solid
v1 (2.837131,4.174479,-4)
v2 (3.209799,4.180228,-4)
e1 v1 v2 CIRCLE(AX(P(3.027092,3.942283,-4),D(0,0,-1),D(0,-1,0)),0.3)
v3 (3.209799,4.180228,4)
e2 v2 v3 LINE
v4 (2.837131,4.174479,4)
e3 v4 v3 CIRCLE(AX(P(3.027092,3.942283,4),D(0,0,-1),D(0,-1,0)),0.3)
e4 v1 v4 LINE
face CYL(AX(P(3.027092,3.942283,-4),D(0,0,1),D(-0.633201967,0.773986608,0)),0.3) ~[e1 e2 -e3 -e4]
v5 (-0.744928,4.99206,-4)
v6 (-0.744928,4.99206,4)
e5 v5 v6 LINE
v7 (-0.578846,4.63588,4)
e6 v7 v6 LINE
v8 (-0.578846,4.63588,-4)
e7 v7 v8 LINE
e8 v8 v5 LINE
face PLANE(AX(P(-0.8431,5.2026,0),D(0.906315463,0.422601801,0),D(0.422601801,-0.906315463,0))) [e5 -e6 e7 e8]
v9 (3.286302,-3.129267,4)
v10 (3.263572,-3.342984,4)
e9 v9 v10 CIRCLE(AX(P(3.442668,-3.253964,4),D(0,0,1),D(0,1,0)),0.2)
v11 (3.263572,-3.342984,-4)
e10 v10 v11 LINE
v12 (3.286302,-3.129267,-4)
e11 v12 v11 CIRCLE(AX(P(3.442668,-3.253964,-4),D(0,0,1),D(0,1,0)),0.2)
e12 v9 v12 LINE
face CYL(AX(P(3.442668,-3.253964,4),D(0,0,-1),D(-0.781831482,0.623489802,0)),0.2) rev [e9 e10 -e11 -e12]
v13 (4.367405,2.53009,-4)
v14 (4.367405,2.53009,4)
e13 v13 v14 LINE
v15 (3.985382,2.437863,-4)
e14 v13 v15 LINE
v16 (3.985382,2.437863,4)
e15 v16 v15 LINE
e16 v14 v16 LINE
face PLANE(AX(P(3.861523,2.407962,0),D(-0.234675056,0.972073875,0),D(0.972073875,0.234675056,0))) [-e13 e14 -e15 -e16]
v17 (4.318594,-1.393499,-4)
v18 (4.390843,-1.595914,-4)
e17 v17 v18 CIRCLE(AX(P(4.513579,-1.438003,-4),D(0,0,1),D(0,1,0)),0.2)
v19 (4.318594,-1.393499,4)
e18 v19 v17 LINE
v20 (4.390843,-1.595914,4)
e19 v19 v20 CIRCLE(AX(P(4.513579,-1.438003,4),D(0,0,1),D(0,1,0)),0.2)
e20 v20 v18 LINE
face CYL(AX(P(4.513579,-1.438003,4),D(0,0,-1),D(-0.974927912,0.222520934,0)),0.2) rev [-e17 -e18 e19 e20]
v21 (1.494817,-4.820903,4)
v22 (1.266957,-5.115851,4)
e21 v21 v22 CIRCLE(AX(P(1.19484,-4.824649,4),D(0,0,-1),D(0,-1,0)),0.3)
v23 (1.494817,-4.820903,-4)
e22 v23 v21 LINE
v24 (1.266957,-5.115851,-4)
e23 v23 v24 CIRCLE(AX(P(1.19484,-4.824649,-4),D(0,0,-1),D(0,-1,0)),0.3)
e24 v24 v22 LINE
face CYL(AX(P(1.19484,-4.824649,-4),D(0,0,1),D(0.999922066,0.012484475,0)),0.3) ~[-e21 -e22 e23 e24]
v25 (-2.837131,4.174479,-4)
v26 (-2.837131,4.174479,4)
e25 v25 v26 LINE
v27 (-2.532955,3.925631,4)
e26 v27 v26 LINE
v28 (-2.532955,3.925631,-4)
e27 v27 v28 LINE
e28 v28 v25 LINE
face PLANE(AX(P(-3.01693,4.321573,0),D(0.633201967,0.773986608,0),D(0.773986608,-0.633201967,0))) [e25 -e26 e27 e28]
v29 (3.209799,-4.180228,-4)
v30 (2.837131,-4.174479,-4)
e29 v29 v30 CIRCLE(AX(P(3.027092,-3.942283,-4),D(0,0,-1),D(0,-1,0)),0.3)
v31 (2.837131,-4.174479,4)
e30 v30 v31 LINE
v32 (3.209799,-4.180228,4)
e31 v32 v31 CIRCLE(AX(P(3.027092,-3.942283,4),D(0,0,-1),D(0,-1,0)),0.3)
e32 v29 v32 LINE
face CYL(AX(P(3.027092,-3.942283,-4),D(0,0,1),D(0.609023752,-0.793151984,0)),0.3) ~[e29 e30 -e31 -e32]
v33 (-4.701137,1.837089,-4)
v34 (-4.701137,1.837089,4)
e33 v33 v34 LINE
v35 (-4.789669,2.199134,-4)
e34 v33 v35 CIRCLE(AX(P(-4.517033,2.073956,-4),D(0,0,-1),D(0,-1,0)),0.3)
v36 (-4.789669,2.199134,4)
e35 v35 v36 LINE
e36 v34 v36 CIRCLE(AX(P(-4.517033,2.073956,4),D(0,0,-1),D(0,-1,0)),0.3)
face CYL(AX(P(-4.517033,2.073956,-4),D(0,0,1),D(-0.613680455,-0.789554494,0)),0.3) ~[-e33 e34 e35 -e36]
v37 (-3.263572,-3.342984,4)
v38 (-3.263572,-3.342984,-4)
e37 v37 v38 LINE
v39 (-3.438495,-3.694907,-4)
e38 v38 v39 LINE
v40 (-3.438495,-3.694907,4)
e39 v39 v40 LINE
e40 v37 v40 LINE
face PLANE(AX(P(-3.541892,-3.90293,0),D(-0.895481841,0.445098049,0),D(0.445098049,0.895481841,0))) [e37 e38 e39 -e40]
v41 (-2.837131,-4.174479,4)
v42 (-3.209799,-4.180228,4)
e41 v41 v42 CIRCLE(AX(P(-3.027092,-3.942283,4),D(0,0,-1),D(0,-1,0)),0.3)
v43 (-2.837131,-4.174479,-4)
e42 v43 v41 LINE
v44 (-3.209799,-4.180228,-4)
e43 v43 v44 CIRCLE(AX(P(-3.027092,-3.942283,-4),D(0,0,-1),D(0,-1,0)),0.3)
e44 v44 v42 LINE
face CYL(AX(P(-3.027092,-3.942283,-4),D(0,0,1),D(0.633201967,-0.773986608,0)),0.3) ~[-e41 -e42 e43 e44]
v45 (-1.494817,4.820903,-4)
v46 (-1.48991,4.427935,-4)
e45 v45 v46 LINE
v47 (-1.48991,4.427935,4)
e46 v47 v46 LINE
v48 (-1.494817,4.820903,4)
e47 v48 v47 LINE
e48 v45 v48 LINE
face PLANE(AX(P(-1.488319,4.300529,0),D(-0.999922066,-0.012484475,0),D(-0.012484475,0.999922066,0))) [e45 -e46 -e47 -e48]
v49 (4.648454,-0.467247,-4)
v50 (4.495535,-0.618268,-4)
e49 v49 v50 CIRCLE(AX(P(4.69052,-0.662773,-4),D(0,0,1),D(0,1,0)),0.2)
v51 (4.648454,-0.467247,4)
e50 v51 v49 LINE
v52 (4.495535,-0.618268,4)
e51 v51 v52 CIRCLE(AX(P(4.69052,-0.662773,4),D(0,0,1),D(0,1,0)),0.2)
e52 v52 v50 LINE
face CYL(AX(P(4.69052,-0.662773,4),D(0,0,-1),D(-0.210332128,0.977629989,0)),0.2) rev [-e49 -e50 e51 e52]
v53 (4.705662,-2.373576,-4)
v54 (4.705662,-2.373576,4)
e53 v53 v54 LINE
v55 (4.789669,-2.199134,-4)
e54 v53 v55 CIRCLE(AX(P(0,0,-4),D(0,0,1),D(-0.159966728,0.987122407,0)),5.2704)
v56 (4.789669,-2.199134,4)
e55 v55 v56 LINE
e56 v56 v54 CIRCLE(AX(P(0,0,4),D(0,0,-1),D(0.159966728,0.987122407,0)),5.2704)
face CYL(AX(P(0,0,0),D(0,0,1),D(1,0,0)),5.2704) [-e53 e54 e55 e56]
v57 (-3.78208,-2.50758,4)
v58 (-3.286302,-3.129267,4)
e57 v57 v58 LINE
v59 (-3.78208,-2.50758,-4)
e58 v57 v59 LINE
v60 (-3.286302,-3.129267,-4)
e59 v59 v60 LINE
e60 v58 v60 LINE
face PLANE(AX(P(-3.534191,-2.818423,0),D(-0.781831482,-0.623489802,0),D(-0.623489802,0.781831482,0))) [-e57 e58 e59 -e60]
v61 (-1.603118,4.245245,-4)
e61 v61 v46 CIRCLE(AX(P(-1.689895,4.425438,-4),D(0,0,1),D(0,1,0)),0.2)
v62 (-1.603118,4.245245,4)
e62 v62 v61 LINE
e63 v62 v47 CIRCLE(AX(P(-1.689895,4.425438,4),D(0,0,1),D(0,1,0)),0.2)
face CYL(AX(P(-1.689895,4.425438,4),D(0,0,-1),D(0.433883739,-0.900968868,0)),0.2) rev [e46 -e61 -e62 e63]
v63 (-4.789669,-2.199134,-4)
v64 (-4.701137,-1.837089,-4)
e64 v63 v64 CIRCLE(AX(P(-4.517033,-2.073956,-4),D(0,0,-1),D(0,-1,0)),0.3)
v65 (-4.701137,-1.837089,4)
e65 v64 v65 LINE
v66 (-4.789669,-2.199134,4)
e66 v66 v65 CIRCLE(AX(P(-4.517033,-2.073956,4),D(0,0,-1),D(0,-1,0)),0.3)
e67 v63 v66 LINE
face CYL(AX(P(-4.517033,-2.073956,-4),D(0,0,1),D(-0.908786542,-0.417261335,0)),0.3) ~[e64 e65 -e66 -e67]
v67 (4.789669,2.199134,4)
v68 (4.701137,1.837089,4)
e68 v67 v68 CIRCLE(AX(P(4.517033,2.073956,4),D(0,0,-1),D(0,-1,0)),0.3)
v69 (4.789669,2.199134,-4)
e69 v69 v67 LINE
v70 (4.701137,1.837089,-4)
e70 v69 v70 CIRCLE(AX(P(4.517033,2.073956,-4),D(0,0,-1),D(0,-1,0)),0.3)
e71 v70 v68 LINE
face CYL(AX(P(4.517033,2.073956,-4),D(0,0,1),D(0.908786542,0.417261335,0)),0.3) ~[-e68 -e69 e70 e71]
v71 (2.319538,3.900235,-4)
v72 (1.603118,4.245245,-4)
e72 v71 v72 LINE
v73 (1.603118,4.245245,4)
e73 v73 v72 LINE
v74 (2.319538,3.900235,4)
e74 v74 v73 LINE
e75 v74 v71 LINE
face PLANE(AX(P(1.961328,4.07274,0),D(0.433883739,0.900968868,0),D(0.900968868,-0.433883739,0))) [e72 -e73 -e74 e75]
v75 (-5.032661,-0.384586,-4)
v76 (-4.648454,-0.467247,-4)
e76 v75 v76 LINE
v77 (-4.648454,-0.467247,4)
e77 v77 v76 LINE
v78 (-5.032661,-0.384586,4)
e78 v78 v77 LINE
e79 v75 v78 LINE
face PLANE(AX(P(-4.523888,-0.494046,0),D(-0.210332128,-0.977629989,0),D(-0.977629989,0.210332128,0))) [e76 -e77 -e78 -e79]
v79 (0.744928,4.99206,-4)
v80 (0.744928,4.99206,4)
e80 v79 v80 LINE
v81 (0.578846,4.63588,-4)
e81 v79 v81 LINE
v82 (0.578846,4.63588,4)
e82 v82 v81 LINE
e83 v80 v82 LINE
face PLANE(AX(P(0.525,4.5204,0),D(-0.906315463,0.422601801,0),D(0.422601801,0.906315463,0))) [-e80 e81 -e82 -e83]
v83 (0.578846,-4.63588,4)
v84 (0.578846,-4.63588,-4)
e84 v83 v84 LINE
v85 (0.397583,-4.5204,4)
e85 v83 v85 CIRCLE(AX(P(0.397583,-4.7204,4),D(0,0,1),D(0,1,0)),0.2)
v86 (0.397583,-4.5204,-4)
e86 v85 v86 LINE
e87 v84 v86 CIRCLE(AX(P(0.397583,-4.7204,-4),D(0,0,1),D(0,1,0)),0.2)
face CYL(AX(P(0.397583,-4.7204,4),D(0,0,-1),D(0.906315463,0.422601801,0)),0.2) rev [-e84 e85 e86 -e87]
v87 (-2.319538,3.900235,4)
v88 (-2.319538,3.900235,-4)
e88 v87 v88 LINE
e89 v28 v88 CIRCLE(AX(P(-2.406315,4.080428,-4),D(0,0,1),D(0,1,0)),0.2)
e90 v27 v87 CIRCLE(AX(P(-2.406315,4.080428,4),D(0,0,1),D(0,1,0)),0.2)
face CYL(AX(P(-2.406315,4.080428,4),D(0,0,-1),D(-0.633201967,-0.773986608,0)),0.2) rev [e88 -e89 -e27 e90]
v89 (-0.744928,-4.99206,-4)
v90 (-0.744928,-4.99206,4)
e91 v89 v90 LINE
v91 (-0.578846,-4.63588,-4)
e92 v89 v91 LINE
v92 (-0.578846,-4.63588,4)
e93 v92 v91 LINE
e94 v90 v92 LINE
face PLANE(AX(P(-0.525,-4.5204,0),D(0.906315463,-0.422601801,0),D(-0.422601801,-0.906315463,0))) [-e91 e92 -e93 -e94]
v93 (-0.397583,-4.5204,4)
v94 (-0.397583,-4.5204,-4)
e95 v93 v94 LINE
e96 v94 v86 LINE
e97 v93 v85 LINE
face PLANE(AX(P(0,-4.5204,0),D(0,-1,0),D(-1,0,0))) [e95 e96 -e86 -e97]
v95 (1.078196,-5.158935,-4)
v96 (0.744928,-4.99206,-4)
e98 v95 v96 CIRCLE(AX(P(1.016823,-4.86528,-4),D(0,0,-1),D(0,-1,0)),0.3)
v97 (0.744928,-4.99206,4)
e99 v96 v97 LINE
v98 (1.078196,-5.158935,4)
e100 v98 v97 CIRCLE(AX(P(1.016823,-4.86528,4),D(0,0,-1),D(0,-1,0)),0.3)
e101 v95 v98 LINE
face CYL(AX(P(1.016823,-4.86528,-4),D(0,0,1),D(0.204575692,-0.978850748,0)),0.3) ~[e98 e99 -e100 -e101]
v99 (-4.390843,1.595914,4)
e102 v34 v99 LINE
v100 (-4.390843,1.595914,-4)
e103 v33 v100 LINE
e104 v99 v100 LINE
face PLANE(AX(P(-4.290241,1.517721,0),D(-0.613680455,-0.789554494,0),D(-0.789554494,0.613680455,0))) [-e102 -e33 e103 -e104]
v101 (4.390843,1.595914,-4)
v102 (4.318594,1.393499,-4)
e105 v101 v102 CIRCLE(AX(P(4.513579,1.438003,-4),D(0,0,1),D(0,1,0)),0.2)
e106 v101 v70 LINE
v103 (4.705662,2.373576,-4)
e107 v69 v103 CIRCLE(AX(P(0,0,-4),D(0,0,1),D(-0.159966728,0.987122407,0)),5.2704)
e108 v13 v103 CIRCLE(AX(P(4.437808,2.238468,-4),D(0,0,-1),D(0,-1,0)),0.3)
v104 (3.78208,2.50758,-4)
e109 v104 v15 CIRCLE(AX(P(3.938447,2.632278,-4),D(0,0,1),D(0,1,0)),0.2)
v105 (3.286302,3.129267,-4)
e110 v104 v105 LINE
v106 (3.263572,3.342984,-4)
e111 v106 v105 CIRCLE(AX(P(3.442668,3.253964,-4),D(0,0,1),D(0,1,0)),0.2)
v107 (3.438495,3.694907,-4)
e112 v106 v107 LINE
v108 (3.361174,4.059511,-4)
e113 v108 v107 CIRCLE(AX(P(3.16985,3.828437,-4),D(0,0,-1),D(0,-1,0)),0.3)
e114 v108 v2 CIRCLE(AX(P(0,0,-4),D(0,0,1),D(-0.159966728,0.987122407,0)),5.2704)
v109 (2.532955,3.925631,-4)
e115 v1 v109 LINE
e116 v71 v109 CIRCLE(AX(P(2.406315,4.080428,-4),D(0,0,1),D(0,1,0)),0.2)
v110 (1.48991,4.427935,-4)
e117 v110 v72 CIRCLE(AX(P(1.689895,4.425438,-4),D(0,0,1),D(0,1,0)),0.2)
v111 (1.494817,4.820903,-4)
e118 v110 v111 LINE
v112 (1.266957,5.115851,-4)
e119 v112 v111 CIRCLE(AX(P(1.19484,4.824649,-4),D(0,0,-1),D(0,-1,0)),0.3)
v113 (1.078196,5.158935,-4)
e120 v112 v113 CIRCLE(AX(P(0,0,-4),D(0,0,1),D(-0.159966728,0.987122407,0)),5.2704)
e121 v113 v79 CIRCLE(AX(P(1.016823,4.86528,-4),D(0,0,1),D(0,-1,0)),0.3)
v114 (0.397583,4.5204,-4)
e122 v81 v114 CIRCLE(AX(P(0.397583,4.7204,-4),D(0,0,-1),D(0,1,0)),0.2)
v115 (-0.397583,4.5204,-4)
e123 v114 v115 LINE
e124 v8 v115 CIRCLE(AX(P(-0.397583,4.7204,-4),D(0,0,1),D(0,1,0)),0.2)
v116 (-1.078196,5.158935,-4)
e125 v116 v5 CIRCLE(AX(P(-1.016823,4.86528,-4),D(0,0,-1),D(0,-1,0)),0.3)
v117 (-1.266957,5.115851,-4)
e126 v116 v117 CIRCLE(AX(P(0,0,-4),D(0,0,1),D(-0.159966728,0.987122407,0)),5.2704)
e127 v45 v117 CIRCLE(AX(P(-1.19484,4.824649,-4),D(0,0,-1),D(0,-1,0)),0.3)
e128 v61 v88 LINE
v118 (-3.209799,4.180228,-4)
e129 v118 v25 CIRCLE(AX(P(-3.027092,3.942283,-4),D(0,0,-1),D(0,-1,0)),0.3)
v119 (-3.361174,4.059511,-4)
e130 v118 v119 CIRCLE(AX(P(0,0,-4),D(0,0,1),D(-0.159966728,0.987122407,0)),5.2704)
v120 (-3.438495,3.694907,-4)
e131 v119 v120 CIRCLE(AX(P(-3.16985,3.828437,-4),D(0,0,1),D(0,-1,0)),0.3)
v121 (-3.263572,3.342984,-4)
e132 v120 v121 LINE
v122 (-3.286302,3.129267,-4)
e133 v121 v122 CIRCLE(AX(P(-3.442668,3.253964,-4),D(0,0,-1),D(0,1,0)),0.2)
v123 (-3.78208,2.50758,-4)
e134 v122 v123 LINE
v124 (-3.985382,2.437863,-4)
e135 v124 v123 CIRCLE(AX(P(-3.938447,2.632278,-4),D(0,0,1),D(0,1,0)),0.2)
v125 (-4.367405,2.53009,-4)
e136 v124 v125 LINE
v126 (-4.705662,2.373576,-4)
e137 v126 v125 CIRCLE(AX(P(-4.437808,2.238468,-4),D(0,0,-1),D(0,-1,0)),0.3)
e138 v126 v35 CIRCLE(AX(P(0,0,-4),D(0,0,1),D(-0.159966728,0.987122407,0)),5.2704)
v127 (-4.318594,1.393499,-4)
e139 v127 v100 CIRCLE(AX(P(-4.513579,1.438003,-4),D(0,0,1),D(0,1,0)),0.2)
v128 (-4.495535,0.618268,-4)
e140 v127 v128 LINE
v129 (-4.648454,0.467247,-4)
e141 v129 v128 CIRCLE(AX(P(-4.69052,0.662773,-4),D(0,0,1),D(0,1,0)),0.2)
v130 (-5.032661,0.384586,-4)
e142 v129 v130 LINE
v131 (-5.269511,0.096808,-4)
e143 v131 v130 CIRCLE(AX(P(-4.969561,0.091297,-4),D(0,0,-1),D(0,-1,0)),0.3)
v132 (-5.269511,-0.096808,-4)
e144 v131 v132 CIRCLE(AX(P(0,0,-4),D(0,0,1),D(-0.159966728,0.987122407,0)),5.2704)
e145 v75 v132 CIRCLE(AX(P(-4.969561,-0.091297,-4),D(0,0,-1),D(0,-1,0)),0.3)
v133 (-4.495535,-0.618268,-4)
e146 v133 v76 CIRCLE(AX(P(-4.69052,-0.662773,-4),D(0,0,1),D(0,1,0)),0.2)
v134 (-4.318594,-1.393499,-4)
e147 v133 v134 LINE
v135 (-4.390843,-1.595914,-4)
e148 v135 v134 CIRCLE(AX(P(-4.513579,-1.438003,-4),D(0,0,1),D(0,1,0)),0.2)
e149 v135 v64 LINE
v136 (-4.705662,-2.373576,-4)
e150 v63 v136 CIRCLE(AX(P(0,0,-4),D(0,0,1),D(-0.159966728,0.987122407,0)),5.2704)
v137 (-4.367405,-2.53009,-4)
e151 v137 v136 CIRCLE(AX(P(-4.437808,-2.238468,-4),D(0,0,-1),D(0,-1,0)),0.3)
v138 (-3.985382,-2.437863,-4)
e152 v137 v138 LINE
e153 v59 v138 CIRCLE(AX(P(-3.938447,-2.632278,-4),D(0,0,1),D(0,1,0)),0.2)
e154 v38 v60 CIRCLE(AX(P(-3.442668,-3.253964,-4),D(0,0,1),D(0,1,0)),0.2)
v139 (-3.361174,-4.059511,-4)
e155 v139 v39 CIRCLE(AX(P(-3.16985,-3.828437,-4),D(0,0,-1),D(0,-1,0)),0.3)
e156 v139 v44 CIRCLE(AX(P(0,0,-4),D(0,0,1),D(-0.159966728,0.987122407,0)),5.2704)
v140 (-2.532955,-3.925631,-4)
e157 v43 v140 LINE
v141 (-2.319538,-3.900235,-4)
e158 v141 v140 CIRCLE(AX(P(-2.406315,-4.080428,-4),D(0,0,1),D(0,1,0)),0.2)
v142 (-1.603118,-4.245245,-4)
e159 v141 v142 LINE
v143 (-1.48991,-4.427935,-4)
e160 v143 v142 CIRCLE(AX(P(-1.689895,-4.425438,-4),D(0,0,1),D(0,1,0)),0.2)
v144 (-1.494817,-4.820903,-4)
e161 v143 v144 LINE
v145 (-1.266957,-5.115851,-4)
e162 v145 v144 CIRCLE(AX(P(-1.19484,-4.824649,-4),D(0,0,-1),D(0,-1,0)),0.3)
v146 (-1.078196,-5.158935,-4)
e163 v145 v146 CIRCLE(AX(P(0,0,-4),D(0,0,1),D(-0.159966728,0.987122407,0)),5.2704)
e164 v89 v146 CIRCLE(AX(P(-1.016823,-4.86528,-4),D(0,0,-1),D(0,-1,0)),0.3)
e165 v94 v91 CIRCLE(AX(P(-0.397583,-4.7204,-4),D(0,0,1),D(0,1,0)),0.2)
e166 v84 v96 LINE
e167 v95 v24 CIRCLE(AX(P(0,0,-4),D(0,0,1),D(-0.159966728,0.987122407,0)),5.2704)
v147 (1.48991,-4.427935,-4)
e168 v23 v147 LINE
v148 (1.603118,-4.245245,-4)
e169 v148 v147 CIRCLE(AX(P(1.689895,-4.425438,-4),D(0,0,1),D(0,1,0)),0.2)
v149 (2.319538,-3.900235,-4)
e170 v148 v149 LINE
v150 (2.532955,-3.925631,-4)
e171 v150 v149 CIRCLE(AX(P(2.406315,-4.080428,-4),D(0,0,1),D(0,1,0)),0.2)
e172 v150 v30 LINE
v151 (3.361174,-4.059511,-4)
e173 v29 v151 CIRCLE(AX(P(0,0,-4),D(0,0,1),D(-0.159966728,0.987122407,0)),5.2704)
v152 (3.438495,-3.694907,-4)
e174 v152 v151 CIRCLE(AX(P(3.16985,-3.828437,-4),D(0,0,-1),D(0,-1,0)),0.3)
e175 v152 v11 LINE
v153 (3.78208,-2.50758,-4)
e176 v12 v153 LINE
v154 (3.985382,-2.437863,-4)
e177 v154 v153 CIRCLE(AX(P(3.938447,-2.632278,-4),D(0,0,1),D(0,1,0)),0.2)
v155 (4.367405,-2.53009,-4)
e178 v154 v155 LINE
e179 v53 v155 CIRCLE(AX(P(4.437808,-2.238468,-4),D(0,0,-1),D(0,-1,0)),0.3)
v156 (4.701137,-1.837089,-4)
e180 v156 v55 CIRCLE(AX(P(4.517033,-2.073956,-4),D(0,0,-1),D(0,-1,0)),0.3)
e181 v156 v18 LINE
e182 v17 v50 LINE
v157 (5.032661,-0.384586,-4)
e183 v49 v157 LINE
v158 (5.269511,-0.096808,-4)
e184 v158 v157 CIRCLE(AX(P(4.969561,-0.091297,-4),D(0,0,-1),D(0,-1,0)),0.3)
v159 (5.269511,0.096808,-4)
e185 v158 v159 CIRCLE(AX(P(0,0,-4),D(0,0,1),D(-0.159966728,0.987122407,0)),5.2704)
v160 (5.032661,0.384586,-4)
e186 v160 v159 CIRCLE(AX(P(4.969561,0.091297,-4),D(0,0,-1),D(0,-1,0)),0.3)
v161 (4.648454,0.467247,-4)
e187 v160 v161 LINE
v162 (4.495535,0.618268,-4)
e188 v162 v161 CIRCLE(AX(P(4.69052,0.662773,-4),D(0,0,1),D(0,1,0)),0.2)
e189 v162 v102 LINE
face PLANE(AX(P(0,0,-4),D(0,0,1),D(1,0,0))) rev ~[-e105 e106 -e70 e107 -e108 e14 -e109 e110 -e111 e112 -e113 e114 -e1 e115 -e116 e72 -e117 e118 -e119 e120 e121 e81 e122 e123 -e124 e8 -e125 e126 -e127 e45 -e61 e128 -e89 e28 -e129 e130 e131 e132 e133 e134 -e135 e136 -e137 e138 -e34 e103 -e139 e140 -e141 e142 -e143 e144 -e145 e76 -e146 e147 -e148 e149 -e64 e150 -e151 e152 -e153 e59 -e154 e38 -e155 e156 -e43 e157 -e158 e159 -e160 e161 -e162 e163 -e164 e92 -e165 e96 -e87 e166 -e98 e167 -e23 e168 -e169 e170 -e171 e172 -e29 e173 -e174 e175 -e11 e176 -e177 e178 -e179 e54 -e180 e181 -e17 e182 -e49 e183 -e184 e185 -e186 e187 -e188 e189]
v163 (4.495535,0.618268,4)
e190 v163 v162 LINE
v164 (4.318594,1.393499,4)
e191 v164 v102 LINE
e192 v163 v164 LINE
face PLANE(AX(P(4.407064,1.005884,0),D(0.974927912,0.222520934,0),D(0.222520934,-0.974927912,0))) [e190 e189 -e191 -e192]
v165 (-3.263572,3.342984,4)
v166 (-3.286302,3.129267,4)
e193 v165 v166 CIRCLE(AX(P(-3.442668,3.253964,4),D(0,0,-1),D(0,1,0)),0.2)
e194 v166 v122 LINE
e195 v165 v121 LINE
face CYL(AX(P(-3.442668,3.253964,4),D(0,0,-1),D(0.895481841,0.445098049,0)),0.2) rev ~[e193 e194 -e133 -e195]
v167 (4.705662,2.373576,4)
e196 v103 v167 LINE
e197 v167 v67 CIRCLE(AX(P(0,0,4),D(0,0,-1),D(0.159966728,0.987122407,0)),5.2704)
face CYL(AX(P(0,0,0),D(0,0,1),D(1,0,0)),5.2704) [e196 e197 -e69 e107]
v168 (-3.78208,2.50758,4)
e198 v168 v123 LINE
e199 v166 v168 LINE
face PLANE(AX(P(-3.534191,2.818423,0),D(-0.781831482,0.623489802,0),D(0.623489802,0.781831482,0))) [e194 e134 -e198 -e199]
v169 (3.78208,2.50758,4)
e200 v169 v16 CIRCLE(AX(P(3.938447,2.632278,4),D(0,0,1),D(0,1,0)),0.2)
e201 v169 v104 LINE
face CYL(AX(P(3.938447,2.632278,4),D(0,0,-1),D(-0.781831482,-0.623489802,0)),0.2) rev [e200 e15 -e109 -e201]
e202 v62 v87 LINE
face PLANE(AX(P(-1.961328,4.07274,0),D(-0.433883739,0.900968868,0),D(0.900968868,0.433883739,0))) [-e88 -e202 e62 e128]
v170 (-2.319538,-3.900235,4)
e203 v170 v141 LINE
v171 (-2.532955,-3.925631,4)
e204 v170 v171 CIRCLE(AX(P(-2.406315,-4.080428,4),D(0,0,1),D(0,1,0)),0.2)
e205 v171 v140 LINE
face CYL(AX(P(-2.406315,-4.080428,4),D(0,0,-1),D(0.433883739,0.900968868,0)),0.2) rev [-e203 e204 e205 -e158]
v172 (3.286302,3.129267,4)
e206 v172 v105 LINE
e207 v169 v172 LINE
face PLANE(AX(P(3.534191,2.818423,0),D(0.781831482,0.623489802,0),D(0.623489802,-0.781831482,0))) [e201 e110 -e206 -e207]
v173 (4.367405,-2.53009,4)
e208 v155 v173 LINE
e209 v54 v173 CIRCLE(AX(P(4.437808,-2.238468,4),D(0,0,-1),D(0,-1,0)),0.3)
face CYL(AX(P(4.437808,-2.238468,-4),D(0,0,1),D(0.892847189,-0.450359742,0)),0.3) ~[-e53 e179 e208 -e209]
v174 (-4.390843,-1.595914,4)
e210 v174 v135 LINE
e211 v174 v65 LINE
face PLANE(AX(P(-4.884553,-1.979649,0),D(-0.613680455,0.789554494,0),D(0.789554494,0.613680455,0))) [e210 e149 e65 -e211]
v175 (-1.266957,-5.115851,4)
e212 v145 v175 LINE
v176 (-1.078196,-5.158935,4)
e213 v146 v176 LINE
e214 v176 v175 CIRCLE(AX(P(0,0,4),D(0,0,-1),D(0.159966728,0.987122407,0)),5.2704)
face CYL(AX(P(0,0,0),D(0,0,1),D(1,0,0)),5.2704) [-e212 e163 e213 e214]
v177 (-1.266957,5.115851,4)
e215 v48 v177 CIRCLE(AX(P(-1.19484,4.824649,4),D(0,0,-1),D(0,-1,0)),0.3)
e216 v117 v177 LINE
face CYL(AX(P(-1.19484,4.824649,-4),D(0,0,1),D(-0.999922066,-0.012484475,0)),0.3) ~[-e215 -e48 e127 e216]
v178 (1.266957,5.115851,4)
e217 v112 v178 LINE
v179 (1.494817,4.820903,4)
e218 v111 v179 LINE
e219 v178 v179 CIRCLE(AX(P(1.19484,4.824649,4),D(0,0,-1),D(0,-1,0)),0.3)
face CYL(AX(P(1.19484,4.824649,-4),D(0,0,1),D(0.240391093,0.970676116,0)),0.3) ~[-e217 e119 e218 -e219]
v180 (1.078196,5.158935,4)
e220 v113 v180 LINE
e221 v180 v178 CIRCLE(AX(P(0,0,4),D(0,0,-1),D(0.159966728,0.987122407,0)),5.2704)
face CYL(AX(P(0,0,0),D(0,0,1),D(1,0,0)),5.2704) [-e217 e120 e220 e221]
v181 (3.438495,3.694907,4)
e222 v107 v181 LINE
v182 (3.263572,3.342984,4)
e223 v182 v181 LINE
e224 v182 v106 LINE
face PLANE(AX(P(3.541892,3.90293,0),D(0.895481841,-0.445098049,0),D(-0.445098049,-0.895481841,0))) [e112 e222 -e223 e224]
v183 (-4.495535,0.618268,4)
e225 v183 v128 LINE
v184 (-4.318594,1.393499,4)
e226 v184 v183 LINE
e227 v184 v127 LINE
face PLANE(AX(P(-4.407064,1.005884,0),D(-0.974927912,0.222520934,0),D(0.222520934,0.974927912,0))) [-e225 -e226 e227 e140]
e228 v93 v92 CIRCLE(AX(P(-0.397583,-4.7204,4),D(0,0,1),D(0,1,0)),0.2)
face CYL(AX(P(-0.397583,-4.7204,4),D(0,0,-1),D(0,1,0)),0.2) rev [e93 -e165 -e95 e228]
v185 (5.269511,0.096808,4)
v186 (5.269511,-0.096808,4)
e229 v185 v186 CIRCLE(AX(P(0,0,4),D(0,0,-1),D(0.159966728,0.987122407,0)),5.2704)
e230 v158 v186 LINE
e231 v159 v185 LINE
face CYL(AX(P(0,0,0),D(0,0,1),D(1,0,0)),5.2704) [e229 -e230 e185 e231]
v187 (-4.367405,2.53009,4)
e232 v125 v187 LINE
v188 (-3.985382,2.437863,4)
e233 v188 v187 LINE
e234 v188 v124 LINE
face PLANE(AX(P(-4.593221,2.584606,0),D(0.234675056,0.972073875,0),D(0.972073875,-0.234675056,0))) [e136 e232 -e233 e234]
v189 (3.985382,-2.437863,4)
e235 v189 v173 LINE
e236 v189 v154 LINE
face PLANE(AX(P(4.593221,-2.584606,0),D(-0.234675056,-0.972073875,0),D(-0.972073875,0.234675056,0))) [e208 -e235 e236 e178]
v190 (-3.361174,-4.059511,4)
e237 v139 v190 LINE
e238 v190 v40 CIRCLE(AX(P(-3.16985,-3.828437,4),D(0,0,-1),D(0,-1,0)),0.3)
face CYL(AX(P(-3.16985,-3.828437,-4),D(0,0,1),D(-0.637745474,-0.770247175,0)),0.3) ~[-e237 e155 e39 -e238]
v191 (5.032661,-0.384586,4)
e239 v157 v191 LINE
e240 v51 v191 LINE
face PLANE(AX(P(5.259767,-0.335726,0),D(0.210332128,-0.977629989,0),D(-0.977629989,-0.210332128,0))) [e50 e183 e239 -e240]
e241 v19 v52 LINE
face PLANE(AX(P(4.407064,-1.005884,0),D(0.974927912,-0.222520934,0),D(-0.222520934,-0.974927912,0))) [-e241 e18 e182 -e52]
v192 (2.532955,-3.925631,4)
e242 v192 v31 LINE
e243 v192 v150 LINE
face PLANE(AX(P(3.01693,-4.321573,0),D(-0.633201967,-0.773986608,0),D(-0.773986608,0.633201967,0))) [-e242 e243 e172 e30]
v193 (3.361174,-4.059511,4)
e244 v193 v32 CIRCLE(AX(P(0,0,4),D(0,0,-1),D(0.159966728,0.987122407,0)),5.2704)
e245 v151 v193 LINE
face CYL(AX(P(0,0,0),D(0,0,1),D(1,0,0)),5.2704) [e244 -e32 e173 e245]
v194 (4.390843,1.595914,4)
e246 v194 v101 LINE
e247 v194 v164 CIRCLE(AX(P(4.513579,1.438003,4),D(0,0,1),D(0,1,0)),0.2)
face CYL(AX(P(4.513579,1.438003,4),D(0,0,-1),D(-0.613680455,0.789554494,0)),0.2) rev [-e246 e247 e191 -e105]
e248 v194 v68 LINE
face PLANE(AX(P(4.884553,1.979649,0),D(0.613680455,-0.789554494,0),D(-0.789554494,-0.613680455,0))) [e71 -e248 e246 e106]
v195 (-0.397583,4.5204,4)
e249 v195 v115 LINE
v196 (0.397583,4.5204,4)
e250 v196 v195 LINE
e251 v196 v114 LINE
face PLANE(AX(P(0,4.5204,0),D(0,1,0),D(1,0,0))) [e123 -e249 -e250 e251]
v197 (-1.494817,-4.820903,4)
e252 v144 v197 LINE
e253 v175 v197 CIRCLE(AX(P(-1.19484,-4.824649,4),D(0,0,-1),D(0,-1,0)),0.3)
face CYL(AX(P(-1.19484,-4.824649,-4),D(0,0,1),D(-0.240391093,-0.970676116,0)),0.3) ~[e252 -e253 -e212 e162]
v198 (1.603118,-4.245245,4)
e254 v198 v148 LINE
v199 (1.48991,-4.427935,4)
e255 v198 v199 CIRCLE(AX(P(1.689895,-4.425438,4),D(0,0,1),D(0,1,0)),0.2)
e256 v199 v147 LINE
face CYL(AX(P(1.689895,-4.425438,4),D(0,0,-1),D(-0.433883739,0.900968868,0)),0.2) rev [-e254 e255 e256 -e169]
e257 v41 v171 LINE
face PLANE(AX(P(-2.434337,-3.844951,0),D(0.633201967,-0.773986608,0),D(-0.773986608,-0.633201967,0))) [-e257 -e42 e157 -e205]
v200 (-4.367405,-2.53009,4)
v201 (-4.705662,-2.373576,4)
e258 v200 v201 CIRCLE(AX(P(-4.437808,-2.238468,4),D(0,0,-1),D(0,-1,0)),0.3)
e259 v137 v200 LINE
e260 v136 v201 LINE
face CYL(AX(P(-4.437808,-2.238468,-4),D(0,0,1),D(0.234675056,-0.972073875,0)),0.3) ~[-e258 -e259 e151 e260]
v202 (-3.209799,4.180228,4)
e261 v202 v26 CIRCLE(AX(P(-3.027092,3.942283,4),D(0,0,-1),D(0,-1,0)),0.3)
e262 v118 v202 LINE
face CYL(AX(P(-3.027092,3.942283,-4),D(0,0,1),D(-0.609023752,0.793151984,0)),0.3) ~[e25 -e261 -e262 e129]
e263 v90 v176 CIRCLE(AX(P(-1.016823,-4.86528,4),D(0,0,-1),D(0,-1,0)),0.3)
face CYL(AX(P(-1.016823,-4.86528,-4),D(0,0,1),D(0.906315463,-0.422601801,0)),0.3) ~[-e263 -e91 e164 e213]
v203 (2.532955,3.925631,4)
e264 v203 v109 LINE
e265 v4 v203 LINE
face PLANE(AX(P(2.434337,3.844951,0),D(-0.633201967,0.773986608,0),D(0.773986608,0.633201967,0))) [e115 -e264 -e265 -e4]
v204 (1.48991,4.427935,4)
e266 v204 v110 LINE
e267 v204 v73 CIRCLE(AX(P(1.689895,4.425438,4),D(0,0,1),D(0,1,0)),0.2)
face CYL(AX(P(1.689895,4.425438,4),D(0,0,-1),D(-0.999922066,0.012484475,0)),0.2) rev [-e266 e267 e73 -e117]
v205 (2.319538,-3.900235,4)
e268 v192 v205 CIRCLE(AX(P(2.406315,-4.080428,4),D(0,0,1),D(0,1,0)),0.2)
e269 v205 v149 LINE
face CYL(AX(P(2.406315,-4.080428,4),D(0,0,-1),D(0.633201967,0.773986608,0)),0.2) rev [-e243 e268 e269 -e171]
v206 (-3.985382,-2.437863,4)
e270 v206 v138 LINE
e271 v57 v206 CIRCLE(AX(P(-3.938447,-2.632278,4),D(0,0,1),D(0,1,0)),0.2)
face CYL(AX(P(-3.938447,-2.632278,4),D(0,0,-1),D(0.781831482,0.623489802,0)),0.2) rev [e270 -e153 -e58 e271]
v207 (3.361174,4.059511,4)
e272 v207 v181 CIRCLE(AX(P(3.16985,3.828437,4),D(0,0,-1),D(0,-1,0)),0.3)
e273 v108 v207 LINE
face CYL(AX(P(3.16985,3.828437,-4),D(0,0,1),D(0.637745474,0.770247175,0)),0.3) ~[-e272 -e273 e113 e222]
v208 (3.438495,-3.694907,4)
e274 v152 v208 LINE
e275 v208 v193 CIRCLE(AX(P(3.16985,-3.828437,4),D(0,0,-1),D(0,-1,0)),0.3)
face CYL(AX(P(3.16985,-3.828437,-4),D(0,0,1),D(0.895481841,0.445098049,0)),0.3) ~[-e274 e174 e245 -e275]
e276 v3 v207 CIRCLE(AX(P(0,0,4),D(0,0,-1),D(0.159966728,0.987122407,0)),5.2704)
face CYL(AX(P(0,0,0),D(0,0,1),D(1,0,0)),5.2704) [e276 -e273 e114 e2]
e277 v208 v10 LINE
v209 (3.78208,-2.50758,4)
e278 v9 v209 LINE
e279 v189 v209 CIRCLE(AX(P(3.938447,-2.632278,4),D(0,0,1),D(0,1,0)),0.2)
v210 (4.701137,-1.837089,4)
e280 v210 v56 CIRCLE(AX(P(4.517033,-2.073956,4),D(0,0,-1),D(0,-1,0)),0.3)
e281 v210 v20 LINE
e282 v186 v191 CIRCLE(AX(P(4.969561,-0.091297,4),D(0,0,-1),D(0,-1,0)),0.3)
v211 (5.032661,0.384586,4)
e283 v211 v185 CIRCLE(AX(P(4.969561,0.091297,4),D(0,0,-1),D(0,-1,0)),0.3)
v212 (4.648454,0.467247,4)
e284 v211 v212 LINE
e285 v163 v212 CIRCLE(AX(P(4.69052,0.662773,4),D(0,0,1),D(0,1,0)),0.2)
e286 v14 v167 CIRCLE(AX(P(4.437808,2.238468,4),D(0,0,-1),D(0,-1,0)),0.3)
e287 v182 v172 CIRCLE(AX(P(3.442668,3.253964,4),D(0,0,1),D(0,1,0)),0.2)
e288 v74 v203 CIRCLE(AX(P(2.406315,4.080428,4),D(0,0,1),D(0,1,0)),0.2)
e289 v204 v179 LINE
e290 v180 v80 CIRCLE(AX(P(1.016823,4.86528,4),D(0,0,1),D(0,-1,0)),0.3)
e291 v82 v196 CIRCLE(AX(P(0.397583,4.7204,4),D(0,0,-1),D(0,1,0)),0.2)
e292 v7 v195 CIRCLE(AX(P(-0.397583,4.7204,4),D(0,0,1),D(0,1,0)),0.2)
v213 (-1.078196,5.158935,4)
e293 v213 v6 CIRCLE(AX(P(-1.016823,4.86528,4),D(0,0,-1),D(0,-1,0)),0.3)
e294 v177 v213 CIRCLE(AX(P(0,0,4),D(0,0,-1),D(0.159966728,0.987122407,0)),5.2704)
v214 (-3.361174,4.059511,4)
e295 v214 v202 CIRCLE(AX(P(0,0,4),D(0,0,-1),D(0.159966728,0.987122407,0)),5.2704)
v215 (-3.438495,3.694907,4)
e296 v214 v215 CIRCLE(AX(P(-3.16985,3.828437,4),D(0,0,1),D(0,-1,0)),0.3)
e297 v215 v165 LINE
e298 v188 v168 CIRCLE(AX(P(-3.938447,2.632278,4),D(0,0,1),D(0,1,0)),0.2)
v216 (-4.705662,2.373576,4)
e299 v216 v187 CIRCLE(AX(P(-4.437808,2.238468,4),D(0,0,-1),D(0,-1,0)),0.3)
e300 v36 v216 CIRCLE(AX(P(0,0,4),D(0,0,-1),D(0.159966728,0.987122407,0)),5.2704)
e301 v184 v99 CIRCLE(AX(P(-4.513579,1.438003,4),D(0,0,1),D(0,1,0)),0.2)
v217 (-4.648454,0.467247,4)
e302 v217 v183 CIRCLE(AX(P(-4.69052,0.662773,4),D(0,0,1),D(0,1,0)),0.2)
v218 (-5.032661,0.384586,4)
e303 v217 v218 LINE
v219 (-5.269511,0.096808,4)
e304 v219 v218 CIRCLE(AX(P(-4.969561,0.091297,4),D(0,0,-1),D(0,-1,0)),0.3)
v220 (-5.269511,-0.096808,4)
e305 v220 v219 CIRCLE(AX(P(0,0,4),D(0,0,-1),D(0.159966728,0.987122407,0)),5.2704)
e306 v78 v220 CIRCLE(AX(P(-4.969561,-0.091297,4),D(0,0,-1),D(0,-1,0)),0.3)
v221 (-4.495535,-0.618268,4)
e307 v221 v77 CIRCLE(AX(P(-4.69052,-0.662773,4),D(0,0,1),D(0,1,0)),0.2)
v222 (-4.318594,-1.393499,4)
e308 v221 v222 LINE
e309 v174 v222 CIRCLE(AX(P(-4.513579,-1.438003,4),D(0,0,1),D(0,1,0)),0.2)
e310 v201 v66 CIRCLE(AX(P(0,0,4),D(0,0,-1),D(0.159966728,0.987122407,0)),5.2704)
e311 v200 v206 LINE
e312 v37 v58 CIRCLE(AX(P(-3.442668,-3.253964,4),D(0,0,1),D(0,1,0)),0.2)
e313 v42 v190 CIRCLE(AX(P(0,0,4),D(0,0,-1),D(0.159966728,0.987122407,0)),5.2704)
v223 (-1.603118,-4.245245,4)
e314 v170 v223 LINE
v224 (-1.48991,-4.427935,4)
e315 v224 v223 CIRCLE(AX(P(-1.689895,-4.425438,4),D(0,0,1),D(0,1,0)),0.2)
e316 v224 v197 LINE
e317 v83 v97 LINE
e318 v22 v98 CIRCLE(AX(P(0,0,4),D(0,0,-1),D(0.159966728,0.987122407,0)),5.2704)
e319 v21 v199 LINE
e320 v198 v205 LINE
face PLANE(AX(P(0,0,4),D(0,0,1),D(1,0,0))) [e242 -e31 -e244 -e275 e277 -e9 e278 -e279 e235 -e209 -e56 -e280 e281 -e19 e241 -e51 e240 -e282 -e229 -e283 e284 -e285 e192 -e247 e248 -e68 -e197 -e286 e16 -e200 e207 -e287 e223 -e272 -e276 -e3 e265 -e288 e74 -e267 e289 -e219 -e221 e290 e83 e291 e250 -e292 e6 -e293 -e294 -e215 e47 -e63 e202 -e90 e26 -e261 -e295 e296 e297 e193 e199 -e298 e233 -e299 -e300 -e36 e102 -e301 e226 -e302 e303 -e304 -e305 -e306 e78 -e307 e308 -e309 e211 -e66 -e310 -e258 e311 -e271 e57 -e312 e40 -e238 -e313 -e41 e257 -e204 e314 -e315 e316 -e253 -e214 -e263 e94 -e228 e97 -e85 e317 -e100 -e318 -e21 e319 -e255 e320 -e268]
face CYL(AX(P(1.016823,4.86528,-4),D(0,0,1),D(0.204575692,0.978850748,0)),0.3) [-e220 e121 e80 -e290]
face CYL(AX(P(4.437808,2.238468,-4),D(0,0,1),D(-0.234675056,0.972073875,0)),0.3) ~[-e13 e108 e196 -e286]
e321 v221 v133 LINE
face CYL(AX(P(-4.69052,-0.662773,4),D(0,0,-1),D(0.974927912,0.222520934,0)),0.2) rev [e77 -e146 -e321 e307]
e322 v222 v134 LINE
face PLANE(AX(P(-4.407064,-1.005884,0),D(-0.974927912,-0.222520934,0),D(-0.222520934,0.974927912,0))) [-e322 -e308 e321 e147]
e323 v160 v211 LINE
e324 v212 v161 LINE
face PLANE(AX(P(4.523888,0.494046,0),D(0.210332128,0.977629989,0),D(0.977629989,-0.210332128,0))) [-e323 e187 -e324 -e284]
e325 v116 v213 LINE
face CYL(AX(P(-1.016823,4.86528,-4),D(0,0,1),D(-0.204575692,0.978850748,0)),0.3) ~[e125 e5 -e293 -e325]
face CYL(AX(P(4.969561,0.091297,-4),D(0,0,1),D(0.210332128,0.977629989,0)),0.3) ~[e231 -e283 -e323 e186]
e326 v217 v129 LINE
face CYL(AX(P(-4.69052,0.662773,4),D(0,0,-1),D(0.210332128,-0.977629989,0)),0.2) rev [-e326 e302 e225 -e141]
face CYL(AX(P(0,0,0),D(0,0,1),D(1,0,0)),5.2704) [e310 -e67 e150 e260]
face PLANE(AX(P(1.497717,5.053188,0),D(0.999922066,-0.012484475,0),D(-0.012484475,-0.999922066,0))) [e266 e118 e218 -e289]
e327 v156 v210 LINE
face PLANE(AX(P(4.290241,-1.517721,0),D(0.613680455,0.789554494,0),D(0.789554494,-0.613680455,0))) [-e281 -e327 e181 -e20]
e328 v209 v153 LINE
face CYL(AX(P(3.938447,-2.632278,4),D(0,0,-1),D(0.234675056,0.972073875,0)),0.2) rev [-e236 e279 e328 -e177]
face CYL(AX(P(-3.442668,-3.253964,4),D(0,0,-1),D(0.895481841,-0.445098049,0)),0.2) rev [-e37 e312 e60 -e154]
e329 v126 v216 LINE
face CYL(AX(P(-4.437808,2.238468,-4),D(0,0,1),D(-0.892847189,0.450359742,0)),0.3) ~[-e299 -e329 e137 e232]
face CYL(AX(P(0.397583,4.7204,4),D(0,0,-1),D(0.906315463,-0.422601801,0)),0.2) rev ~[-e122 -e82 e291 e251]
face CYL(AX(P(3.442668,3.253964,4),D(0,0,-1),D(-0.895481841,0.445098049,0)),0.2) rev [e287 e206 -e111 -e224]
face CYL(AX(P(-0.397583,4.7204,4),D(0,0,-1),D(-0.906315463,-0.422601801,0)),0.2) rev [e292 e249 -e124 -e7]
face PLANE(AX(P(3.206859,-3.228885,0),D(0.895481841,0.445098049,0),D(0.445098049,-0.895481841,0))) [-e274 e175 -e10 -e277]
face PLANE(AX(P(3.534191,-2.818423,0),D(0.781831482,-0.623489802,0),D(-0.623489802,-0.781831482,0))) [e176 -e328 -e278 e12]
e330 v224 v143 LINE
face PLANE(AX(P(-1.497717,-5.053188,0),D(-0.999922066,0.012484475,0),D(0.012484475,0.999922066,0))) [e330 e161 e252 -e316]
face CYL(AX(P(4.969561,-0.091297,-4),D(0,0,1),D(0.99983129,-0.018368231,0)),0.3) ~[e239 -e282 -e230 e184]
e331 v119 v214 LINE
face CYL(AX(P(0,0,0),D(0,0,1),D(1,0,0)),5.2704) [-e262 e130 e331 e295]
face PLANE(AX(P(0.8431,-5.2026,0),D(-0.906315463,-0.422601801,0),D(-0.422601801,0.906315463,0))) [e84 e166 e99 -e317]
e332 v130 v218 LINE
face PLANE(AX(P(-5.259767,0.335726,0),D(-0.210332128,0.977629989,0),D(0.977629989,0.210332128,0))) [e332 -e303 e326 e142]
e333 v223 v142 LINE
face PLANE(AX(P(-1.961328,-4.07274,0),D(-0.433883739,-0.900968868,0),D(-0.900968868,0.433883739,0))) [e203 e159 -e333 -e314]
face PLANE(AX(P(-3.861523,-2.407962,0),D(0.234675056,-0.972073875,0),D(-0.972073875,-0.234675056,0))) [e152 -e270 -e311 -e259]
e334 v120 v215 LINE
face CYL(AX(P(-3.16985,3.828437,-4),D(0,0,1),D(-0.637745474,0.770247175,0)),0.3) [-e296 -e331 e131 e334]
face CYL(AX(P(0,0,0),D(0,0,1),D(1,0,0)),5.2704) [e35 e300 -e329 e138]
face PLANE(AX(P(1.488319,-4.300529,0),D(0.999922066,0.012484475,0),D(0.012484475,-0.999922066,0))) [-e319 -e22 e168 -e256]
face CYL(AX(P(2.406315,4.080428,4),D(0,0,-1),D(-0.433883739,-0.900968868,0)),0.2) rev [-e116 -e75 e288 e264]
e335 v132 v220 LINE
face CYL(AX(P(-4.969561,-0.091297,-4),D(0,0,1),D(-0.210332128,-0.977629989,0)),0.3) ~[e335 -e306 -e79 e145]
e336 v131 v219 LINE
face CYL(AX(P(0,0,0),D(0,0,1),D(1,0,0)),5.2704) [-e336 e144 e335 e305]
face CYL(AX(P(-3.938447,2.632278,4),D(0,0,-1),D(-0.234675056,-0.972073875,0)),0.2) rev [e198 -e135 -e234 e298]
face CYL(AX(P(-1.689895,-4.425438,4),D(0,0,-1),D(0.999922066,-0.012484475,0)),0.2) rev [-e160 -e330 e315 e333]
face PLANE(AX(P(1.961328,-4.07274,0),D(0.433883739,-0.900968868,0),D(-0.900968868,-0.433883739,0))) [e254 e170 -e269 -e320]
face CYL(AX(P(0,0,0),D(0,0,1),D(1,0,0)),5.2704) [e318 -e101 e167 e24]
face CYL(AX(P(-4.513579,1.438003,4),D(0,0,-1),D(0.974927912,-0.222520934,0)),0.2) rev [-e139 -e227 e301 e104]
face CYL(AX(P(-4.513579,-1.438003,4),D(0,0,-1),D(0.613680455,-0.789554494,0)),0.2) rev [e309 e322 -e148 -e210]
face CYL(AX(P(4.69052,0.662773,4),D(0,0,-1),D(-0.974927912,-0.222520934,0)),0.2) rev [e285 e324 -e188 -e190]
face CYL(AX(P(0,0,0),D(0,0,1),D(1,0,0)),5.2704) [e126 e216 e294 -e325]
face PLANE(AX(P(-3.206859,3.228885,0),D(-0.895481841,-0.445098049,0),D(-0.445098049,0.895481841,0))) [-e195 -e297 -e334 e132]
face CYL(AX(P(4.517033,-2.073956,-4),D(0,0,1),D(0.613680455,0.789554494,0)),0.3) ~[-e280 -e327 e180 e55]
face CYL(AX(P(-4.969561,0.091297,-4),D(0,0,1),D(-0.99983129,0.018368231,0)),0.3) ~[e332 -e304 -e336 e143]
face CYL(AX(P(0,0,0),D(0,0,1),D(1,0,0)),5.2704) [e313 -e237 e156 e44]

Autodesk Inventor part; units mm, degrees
ref_plane "YZ Plane" through (0, 0, 0) normal (1, 0, 0) x (0, 1, 0)
ref_plane "XZ Plane" through (0, 0, 0) normal (0, 1, 0) x (-1, 0, 0)
ref_plane "XY Plane" through (0, 0, 0) normal (0, 0, 1) x (1, 0, 0)
sketch "Riemenscheibenskizze" plane through (0, 0, 0) normal (0, 0, 1) x (1, 0, 0)
  circle A0 centre (0, 0) radius 5.5704 construction
  circle A1 centre (0, 0) radius 5.2704
  circle A2 centre (0, 0) radius 4.5204
  line L0 (-0.8431, 5.2026) -> (-0.525, 4.5204)
  line L1 (-0.525, 4.5204) -> (0.525, 4.5204)
  line L2 (0.525, 4.5204) -> (0.8431, 5.2026)
  line L3 (0, 0) -> (0, 5.2704) construction
  point P0 (0, 4.5204)
  dimension "d0" = 11.1409
  dimension "d1" = 0.3
  dimension "d2" = 0.75
  dimension "d3" = 50
  dimension "d4" = 1.05
extrude "Grundkörper" add sketch "Riemenscheibenskizze" along normal mid plane 8 contours A2 | A1 L0 L1 L2 | L2 L1 L0 A1
extrude "Zahn" cut sketch "Riemenscheibenskizze" along normal through all both and the other way through all contours L2 L1 L0 A1 picked at (0, 5.0154)
fillet "Fillet" radius 0.2 2 edges at (0.525, 4.5204, 0) (-0.525, 4.5204, 0)
fillet "Fillet" radius 0.3 4 edges at (-0.8431, 5.2026, 2) (-0.8431, 5.2026, -2) (0.8431, 5.2026, 2) (0.8431, 5.2026, -2)
pattern_circular "Zähne" count 14 over 360 about axis through (0, 0, -10) along (0, 0, 1) of "Zahn", "Fillet"
feature "Flansch links" [suppressed]
feature "Flansch rechts" [suppressed]
equation "\"d1\" = da_a"
equation "\"d2\" = da_hg"
equation "\"d3\" = 2 * da_fi"
equation "\"d4\" = da_bw"
equation "\"d5\" = da_bf"
equation "\"d7\" = da_bf"
equation "\"d9\" = da_rb"
equation "\"d10\" = da_rt"
equation "\"da_pb\" = 2.5"
equation "\"da_fi\" = 25deg"
equation "\"da_hg\" = 0.75"
equation "\"da_bw\" = 1.05"
equation "\"da_rb\" = 0.2"
equation "\"da_rt\" = 0.3"
equation "\"da_a\" = 0.3"
equation "\"da_bf\" = 8"
equation "\"da_wf\" = 0.8"
equation "\"da_hf\" = 0.8"
properties part number "Synchrone Riemenscheibe2" material "Steel"
